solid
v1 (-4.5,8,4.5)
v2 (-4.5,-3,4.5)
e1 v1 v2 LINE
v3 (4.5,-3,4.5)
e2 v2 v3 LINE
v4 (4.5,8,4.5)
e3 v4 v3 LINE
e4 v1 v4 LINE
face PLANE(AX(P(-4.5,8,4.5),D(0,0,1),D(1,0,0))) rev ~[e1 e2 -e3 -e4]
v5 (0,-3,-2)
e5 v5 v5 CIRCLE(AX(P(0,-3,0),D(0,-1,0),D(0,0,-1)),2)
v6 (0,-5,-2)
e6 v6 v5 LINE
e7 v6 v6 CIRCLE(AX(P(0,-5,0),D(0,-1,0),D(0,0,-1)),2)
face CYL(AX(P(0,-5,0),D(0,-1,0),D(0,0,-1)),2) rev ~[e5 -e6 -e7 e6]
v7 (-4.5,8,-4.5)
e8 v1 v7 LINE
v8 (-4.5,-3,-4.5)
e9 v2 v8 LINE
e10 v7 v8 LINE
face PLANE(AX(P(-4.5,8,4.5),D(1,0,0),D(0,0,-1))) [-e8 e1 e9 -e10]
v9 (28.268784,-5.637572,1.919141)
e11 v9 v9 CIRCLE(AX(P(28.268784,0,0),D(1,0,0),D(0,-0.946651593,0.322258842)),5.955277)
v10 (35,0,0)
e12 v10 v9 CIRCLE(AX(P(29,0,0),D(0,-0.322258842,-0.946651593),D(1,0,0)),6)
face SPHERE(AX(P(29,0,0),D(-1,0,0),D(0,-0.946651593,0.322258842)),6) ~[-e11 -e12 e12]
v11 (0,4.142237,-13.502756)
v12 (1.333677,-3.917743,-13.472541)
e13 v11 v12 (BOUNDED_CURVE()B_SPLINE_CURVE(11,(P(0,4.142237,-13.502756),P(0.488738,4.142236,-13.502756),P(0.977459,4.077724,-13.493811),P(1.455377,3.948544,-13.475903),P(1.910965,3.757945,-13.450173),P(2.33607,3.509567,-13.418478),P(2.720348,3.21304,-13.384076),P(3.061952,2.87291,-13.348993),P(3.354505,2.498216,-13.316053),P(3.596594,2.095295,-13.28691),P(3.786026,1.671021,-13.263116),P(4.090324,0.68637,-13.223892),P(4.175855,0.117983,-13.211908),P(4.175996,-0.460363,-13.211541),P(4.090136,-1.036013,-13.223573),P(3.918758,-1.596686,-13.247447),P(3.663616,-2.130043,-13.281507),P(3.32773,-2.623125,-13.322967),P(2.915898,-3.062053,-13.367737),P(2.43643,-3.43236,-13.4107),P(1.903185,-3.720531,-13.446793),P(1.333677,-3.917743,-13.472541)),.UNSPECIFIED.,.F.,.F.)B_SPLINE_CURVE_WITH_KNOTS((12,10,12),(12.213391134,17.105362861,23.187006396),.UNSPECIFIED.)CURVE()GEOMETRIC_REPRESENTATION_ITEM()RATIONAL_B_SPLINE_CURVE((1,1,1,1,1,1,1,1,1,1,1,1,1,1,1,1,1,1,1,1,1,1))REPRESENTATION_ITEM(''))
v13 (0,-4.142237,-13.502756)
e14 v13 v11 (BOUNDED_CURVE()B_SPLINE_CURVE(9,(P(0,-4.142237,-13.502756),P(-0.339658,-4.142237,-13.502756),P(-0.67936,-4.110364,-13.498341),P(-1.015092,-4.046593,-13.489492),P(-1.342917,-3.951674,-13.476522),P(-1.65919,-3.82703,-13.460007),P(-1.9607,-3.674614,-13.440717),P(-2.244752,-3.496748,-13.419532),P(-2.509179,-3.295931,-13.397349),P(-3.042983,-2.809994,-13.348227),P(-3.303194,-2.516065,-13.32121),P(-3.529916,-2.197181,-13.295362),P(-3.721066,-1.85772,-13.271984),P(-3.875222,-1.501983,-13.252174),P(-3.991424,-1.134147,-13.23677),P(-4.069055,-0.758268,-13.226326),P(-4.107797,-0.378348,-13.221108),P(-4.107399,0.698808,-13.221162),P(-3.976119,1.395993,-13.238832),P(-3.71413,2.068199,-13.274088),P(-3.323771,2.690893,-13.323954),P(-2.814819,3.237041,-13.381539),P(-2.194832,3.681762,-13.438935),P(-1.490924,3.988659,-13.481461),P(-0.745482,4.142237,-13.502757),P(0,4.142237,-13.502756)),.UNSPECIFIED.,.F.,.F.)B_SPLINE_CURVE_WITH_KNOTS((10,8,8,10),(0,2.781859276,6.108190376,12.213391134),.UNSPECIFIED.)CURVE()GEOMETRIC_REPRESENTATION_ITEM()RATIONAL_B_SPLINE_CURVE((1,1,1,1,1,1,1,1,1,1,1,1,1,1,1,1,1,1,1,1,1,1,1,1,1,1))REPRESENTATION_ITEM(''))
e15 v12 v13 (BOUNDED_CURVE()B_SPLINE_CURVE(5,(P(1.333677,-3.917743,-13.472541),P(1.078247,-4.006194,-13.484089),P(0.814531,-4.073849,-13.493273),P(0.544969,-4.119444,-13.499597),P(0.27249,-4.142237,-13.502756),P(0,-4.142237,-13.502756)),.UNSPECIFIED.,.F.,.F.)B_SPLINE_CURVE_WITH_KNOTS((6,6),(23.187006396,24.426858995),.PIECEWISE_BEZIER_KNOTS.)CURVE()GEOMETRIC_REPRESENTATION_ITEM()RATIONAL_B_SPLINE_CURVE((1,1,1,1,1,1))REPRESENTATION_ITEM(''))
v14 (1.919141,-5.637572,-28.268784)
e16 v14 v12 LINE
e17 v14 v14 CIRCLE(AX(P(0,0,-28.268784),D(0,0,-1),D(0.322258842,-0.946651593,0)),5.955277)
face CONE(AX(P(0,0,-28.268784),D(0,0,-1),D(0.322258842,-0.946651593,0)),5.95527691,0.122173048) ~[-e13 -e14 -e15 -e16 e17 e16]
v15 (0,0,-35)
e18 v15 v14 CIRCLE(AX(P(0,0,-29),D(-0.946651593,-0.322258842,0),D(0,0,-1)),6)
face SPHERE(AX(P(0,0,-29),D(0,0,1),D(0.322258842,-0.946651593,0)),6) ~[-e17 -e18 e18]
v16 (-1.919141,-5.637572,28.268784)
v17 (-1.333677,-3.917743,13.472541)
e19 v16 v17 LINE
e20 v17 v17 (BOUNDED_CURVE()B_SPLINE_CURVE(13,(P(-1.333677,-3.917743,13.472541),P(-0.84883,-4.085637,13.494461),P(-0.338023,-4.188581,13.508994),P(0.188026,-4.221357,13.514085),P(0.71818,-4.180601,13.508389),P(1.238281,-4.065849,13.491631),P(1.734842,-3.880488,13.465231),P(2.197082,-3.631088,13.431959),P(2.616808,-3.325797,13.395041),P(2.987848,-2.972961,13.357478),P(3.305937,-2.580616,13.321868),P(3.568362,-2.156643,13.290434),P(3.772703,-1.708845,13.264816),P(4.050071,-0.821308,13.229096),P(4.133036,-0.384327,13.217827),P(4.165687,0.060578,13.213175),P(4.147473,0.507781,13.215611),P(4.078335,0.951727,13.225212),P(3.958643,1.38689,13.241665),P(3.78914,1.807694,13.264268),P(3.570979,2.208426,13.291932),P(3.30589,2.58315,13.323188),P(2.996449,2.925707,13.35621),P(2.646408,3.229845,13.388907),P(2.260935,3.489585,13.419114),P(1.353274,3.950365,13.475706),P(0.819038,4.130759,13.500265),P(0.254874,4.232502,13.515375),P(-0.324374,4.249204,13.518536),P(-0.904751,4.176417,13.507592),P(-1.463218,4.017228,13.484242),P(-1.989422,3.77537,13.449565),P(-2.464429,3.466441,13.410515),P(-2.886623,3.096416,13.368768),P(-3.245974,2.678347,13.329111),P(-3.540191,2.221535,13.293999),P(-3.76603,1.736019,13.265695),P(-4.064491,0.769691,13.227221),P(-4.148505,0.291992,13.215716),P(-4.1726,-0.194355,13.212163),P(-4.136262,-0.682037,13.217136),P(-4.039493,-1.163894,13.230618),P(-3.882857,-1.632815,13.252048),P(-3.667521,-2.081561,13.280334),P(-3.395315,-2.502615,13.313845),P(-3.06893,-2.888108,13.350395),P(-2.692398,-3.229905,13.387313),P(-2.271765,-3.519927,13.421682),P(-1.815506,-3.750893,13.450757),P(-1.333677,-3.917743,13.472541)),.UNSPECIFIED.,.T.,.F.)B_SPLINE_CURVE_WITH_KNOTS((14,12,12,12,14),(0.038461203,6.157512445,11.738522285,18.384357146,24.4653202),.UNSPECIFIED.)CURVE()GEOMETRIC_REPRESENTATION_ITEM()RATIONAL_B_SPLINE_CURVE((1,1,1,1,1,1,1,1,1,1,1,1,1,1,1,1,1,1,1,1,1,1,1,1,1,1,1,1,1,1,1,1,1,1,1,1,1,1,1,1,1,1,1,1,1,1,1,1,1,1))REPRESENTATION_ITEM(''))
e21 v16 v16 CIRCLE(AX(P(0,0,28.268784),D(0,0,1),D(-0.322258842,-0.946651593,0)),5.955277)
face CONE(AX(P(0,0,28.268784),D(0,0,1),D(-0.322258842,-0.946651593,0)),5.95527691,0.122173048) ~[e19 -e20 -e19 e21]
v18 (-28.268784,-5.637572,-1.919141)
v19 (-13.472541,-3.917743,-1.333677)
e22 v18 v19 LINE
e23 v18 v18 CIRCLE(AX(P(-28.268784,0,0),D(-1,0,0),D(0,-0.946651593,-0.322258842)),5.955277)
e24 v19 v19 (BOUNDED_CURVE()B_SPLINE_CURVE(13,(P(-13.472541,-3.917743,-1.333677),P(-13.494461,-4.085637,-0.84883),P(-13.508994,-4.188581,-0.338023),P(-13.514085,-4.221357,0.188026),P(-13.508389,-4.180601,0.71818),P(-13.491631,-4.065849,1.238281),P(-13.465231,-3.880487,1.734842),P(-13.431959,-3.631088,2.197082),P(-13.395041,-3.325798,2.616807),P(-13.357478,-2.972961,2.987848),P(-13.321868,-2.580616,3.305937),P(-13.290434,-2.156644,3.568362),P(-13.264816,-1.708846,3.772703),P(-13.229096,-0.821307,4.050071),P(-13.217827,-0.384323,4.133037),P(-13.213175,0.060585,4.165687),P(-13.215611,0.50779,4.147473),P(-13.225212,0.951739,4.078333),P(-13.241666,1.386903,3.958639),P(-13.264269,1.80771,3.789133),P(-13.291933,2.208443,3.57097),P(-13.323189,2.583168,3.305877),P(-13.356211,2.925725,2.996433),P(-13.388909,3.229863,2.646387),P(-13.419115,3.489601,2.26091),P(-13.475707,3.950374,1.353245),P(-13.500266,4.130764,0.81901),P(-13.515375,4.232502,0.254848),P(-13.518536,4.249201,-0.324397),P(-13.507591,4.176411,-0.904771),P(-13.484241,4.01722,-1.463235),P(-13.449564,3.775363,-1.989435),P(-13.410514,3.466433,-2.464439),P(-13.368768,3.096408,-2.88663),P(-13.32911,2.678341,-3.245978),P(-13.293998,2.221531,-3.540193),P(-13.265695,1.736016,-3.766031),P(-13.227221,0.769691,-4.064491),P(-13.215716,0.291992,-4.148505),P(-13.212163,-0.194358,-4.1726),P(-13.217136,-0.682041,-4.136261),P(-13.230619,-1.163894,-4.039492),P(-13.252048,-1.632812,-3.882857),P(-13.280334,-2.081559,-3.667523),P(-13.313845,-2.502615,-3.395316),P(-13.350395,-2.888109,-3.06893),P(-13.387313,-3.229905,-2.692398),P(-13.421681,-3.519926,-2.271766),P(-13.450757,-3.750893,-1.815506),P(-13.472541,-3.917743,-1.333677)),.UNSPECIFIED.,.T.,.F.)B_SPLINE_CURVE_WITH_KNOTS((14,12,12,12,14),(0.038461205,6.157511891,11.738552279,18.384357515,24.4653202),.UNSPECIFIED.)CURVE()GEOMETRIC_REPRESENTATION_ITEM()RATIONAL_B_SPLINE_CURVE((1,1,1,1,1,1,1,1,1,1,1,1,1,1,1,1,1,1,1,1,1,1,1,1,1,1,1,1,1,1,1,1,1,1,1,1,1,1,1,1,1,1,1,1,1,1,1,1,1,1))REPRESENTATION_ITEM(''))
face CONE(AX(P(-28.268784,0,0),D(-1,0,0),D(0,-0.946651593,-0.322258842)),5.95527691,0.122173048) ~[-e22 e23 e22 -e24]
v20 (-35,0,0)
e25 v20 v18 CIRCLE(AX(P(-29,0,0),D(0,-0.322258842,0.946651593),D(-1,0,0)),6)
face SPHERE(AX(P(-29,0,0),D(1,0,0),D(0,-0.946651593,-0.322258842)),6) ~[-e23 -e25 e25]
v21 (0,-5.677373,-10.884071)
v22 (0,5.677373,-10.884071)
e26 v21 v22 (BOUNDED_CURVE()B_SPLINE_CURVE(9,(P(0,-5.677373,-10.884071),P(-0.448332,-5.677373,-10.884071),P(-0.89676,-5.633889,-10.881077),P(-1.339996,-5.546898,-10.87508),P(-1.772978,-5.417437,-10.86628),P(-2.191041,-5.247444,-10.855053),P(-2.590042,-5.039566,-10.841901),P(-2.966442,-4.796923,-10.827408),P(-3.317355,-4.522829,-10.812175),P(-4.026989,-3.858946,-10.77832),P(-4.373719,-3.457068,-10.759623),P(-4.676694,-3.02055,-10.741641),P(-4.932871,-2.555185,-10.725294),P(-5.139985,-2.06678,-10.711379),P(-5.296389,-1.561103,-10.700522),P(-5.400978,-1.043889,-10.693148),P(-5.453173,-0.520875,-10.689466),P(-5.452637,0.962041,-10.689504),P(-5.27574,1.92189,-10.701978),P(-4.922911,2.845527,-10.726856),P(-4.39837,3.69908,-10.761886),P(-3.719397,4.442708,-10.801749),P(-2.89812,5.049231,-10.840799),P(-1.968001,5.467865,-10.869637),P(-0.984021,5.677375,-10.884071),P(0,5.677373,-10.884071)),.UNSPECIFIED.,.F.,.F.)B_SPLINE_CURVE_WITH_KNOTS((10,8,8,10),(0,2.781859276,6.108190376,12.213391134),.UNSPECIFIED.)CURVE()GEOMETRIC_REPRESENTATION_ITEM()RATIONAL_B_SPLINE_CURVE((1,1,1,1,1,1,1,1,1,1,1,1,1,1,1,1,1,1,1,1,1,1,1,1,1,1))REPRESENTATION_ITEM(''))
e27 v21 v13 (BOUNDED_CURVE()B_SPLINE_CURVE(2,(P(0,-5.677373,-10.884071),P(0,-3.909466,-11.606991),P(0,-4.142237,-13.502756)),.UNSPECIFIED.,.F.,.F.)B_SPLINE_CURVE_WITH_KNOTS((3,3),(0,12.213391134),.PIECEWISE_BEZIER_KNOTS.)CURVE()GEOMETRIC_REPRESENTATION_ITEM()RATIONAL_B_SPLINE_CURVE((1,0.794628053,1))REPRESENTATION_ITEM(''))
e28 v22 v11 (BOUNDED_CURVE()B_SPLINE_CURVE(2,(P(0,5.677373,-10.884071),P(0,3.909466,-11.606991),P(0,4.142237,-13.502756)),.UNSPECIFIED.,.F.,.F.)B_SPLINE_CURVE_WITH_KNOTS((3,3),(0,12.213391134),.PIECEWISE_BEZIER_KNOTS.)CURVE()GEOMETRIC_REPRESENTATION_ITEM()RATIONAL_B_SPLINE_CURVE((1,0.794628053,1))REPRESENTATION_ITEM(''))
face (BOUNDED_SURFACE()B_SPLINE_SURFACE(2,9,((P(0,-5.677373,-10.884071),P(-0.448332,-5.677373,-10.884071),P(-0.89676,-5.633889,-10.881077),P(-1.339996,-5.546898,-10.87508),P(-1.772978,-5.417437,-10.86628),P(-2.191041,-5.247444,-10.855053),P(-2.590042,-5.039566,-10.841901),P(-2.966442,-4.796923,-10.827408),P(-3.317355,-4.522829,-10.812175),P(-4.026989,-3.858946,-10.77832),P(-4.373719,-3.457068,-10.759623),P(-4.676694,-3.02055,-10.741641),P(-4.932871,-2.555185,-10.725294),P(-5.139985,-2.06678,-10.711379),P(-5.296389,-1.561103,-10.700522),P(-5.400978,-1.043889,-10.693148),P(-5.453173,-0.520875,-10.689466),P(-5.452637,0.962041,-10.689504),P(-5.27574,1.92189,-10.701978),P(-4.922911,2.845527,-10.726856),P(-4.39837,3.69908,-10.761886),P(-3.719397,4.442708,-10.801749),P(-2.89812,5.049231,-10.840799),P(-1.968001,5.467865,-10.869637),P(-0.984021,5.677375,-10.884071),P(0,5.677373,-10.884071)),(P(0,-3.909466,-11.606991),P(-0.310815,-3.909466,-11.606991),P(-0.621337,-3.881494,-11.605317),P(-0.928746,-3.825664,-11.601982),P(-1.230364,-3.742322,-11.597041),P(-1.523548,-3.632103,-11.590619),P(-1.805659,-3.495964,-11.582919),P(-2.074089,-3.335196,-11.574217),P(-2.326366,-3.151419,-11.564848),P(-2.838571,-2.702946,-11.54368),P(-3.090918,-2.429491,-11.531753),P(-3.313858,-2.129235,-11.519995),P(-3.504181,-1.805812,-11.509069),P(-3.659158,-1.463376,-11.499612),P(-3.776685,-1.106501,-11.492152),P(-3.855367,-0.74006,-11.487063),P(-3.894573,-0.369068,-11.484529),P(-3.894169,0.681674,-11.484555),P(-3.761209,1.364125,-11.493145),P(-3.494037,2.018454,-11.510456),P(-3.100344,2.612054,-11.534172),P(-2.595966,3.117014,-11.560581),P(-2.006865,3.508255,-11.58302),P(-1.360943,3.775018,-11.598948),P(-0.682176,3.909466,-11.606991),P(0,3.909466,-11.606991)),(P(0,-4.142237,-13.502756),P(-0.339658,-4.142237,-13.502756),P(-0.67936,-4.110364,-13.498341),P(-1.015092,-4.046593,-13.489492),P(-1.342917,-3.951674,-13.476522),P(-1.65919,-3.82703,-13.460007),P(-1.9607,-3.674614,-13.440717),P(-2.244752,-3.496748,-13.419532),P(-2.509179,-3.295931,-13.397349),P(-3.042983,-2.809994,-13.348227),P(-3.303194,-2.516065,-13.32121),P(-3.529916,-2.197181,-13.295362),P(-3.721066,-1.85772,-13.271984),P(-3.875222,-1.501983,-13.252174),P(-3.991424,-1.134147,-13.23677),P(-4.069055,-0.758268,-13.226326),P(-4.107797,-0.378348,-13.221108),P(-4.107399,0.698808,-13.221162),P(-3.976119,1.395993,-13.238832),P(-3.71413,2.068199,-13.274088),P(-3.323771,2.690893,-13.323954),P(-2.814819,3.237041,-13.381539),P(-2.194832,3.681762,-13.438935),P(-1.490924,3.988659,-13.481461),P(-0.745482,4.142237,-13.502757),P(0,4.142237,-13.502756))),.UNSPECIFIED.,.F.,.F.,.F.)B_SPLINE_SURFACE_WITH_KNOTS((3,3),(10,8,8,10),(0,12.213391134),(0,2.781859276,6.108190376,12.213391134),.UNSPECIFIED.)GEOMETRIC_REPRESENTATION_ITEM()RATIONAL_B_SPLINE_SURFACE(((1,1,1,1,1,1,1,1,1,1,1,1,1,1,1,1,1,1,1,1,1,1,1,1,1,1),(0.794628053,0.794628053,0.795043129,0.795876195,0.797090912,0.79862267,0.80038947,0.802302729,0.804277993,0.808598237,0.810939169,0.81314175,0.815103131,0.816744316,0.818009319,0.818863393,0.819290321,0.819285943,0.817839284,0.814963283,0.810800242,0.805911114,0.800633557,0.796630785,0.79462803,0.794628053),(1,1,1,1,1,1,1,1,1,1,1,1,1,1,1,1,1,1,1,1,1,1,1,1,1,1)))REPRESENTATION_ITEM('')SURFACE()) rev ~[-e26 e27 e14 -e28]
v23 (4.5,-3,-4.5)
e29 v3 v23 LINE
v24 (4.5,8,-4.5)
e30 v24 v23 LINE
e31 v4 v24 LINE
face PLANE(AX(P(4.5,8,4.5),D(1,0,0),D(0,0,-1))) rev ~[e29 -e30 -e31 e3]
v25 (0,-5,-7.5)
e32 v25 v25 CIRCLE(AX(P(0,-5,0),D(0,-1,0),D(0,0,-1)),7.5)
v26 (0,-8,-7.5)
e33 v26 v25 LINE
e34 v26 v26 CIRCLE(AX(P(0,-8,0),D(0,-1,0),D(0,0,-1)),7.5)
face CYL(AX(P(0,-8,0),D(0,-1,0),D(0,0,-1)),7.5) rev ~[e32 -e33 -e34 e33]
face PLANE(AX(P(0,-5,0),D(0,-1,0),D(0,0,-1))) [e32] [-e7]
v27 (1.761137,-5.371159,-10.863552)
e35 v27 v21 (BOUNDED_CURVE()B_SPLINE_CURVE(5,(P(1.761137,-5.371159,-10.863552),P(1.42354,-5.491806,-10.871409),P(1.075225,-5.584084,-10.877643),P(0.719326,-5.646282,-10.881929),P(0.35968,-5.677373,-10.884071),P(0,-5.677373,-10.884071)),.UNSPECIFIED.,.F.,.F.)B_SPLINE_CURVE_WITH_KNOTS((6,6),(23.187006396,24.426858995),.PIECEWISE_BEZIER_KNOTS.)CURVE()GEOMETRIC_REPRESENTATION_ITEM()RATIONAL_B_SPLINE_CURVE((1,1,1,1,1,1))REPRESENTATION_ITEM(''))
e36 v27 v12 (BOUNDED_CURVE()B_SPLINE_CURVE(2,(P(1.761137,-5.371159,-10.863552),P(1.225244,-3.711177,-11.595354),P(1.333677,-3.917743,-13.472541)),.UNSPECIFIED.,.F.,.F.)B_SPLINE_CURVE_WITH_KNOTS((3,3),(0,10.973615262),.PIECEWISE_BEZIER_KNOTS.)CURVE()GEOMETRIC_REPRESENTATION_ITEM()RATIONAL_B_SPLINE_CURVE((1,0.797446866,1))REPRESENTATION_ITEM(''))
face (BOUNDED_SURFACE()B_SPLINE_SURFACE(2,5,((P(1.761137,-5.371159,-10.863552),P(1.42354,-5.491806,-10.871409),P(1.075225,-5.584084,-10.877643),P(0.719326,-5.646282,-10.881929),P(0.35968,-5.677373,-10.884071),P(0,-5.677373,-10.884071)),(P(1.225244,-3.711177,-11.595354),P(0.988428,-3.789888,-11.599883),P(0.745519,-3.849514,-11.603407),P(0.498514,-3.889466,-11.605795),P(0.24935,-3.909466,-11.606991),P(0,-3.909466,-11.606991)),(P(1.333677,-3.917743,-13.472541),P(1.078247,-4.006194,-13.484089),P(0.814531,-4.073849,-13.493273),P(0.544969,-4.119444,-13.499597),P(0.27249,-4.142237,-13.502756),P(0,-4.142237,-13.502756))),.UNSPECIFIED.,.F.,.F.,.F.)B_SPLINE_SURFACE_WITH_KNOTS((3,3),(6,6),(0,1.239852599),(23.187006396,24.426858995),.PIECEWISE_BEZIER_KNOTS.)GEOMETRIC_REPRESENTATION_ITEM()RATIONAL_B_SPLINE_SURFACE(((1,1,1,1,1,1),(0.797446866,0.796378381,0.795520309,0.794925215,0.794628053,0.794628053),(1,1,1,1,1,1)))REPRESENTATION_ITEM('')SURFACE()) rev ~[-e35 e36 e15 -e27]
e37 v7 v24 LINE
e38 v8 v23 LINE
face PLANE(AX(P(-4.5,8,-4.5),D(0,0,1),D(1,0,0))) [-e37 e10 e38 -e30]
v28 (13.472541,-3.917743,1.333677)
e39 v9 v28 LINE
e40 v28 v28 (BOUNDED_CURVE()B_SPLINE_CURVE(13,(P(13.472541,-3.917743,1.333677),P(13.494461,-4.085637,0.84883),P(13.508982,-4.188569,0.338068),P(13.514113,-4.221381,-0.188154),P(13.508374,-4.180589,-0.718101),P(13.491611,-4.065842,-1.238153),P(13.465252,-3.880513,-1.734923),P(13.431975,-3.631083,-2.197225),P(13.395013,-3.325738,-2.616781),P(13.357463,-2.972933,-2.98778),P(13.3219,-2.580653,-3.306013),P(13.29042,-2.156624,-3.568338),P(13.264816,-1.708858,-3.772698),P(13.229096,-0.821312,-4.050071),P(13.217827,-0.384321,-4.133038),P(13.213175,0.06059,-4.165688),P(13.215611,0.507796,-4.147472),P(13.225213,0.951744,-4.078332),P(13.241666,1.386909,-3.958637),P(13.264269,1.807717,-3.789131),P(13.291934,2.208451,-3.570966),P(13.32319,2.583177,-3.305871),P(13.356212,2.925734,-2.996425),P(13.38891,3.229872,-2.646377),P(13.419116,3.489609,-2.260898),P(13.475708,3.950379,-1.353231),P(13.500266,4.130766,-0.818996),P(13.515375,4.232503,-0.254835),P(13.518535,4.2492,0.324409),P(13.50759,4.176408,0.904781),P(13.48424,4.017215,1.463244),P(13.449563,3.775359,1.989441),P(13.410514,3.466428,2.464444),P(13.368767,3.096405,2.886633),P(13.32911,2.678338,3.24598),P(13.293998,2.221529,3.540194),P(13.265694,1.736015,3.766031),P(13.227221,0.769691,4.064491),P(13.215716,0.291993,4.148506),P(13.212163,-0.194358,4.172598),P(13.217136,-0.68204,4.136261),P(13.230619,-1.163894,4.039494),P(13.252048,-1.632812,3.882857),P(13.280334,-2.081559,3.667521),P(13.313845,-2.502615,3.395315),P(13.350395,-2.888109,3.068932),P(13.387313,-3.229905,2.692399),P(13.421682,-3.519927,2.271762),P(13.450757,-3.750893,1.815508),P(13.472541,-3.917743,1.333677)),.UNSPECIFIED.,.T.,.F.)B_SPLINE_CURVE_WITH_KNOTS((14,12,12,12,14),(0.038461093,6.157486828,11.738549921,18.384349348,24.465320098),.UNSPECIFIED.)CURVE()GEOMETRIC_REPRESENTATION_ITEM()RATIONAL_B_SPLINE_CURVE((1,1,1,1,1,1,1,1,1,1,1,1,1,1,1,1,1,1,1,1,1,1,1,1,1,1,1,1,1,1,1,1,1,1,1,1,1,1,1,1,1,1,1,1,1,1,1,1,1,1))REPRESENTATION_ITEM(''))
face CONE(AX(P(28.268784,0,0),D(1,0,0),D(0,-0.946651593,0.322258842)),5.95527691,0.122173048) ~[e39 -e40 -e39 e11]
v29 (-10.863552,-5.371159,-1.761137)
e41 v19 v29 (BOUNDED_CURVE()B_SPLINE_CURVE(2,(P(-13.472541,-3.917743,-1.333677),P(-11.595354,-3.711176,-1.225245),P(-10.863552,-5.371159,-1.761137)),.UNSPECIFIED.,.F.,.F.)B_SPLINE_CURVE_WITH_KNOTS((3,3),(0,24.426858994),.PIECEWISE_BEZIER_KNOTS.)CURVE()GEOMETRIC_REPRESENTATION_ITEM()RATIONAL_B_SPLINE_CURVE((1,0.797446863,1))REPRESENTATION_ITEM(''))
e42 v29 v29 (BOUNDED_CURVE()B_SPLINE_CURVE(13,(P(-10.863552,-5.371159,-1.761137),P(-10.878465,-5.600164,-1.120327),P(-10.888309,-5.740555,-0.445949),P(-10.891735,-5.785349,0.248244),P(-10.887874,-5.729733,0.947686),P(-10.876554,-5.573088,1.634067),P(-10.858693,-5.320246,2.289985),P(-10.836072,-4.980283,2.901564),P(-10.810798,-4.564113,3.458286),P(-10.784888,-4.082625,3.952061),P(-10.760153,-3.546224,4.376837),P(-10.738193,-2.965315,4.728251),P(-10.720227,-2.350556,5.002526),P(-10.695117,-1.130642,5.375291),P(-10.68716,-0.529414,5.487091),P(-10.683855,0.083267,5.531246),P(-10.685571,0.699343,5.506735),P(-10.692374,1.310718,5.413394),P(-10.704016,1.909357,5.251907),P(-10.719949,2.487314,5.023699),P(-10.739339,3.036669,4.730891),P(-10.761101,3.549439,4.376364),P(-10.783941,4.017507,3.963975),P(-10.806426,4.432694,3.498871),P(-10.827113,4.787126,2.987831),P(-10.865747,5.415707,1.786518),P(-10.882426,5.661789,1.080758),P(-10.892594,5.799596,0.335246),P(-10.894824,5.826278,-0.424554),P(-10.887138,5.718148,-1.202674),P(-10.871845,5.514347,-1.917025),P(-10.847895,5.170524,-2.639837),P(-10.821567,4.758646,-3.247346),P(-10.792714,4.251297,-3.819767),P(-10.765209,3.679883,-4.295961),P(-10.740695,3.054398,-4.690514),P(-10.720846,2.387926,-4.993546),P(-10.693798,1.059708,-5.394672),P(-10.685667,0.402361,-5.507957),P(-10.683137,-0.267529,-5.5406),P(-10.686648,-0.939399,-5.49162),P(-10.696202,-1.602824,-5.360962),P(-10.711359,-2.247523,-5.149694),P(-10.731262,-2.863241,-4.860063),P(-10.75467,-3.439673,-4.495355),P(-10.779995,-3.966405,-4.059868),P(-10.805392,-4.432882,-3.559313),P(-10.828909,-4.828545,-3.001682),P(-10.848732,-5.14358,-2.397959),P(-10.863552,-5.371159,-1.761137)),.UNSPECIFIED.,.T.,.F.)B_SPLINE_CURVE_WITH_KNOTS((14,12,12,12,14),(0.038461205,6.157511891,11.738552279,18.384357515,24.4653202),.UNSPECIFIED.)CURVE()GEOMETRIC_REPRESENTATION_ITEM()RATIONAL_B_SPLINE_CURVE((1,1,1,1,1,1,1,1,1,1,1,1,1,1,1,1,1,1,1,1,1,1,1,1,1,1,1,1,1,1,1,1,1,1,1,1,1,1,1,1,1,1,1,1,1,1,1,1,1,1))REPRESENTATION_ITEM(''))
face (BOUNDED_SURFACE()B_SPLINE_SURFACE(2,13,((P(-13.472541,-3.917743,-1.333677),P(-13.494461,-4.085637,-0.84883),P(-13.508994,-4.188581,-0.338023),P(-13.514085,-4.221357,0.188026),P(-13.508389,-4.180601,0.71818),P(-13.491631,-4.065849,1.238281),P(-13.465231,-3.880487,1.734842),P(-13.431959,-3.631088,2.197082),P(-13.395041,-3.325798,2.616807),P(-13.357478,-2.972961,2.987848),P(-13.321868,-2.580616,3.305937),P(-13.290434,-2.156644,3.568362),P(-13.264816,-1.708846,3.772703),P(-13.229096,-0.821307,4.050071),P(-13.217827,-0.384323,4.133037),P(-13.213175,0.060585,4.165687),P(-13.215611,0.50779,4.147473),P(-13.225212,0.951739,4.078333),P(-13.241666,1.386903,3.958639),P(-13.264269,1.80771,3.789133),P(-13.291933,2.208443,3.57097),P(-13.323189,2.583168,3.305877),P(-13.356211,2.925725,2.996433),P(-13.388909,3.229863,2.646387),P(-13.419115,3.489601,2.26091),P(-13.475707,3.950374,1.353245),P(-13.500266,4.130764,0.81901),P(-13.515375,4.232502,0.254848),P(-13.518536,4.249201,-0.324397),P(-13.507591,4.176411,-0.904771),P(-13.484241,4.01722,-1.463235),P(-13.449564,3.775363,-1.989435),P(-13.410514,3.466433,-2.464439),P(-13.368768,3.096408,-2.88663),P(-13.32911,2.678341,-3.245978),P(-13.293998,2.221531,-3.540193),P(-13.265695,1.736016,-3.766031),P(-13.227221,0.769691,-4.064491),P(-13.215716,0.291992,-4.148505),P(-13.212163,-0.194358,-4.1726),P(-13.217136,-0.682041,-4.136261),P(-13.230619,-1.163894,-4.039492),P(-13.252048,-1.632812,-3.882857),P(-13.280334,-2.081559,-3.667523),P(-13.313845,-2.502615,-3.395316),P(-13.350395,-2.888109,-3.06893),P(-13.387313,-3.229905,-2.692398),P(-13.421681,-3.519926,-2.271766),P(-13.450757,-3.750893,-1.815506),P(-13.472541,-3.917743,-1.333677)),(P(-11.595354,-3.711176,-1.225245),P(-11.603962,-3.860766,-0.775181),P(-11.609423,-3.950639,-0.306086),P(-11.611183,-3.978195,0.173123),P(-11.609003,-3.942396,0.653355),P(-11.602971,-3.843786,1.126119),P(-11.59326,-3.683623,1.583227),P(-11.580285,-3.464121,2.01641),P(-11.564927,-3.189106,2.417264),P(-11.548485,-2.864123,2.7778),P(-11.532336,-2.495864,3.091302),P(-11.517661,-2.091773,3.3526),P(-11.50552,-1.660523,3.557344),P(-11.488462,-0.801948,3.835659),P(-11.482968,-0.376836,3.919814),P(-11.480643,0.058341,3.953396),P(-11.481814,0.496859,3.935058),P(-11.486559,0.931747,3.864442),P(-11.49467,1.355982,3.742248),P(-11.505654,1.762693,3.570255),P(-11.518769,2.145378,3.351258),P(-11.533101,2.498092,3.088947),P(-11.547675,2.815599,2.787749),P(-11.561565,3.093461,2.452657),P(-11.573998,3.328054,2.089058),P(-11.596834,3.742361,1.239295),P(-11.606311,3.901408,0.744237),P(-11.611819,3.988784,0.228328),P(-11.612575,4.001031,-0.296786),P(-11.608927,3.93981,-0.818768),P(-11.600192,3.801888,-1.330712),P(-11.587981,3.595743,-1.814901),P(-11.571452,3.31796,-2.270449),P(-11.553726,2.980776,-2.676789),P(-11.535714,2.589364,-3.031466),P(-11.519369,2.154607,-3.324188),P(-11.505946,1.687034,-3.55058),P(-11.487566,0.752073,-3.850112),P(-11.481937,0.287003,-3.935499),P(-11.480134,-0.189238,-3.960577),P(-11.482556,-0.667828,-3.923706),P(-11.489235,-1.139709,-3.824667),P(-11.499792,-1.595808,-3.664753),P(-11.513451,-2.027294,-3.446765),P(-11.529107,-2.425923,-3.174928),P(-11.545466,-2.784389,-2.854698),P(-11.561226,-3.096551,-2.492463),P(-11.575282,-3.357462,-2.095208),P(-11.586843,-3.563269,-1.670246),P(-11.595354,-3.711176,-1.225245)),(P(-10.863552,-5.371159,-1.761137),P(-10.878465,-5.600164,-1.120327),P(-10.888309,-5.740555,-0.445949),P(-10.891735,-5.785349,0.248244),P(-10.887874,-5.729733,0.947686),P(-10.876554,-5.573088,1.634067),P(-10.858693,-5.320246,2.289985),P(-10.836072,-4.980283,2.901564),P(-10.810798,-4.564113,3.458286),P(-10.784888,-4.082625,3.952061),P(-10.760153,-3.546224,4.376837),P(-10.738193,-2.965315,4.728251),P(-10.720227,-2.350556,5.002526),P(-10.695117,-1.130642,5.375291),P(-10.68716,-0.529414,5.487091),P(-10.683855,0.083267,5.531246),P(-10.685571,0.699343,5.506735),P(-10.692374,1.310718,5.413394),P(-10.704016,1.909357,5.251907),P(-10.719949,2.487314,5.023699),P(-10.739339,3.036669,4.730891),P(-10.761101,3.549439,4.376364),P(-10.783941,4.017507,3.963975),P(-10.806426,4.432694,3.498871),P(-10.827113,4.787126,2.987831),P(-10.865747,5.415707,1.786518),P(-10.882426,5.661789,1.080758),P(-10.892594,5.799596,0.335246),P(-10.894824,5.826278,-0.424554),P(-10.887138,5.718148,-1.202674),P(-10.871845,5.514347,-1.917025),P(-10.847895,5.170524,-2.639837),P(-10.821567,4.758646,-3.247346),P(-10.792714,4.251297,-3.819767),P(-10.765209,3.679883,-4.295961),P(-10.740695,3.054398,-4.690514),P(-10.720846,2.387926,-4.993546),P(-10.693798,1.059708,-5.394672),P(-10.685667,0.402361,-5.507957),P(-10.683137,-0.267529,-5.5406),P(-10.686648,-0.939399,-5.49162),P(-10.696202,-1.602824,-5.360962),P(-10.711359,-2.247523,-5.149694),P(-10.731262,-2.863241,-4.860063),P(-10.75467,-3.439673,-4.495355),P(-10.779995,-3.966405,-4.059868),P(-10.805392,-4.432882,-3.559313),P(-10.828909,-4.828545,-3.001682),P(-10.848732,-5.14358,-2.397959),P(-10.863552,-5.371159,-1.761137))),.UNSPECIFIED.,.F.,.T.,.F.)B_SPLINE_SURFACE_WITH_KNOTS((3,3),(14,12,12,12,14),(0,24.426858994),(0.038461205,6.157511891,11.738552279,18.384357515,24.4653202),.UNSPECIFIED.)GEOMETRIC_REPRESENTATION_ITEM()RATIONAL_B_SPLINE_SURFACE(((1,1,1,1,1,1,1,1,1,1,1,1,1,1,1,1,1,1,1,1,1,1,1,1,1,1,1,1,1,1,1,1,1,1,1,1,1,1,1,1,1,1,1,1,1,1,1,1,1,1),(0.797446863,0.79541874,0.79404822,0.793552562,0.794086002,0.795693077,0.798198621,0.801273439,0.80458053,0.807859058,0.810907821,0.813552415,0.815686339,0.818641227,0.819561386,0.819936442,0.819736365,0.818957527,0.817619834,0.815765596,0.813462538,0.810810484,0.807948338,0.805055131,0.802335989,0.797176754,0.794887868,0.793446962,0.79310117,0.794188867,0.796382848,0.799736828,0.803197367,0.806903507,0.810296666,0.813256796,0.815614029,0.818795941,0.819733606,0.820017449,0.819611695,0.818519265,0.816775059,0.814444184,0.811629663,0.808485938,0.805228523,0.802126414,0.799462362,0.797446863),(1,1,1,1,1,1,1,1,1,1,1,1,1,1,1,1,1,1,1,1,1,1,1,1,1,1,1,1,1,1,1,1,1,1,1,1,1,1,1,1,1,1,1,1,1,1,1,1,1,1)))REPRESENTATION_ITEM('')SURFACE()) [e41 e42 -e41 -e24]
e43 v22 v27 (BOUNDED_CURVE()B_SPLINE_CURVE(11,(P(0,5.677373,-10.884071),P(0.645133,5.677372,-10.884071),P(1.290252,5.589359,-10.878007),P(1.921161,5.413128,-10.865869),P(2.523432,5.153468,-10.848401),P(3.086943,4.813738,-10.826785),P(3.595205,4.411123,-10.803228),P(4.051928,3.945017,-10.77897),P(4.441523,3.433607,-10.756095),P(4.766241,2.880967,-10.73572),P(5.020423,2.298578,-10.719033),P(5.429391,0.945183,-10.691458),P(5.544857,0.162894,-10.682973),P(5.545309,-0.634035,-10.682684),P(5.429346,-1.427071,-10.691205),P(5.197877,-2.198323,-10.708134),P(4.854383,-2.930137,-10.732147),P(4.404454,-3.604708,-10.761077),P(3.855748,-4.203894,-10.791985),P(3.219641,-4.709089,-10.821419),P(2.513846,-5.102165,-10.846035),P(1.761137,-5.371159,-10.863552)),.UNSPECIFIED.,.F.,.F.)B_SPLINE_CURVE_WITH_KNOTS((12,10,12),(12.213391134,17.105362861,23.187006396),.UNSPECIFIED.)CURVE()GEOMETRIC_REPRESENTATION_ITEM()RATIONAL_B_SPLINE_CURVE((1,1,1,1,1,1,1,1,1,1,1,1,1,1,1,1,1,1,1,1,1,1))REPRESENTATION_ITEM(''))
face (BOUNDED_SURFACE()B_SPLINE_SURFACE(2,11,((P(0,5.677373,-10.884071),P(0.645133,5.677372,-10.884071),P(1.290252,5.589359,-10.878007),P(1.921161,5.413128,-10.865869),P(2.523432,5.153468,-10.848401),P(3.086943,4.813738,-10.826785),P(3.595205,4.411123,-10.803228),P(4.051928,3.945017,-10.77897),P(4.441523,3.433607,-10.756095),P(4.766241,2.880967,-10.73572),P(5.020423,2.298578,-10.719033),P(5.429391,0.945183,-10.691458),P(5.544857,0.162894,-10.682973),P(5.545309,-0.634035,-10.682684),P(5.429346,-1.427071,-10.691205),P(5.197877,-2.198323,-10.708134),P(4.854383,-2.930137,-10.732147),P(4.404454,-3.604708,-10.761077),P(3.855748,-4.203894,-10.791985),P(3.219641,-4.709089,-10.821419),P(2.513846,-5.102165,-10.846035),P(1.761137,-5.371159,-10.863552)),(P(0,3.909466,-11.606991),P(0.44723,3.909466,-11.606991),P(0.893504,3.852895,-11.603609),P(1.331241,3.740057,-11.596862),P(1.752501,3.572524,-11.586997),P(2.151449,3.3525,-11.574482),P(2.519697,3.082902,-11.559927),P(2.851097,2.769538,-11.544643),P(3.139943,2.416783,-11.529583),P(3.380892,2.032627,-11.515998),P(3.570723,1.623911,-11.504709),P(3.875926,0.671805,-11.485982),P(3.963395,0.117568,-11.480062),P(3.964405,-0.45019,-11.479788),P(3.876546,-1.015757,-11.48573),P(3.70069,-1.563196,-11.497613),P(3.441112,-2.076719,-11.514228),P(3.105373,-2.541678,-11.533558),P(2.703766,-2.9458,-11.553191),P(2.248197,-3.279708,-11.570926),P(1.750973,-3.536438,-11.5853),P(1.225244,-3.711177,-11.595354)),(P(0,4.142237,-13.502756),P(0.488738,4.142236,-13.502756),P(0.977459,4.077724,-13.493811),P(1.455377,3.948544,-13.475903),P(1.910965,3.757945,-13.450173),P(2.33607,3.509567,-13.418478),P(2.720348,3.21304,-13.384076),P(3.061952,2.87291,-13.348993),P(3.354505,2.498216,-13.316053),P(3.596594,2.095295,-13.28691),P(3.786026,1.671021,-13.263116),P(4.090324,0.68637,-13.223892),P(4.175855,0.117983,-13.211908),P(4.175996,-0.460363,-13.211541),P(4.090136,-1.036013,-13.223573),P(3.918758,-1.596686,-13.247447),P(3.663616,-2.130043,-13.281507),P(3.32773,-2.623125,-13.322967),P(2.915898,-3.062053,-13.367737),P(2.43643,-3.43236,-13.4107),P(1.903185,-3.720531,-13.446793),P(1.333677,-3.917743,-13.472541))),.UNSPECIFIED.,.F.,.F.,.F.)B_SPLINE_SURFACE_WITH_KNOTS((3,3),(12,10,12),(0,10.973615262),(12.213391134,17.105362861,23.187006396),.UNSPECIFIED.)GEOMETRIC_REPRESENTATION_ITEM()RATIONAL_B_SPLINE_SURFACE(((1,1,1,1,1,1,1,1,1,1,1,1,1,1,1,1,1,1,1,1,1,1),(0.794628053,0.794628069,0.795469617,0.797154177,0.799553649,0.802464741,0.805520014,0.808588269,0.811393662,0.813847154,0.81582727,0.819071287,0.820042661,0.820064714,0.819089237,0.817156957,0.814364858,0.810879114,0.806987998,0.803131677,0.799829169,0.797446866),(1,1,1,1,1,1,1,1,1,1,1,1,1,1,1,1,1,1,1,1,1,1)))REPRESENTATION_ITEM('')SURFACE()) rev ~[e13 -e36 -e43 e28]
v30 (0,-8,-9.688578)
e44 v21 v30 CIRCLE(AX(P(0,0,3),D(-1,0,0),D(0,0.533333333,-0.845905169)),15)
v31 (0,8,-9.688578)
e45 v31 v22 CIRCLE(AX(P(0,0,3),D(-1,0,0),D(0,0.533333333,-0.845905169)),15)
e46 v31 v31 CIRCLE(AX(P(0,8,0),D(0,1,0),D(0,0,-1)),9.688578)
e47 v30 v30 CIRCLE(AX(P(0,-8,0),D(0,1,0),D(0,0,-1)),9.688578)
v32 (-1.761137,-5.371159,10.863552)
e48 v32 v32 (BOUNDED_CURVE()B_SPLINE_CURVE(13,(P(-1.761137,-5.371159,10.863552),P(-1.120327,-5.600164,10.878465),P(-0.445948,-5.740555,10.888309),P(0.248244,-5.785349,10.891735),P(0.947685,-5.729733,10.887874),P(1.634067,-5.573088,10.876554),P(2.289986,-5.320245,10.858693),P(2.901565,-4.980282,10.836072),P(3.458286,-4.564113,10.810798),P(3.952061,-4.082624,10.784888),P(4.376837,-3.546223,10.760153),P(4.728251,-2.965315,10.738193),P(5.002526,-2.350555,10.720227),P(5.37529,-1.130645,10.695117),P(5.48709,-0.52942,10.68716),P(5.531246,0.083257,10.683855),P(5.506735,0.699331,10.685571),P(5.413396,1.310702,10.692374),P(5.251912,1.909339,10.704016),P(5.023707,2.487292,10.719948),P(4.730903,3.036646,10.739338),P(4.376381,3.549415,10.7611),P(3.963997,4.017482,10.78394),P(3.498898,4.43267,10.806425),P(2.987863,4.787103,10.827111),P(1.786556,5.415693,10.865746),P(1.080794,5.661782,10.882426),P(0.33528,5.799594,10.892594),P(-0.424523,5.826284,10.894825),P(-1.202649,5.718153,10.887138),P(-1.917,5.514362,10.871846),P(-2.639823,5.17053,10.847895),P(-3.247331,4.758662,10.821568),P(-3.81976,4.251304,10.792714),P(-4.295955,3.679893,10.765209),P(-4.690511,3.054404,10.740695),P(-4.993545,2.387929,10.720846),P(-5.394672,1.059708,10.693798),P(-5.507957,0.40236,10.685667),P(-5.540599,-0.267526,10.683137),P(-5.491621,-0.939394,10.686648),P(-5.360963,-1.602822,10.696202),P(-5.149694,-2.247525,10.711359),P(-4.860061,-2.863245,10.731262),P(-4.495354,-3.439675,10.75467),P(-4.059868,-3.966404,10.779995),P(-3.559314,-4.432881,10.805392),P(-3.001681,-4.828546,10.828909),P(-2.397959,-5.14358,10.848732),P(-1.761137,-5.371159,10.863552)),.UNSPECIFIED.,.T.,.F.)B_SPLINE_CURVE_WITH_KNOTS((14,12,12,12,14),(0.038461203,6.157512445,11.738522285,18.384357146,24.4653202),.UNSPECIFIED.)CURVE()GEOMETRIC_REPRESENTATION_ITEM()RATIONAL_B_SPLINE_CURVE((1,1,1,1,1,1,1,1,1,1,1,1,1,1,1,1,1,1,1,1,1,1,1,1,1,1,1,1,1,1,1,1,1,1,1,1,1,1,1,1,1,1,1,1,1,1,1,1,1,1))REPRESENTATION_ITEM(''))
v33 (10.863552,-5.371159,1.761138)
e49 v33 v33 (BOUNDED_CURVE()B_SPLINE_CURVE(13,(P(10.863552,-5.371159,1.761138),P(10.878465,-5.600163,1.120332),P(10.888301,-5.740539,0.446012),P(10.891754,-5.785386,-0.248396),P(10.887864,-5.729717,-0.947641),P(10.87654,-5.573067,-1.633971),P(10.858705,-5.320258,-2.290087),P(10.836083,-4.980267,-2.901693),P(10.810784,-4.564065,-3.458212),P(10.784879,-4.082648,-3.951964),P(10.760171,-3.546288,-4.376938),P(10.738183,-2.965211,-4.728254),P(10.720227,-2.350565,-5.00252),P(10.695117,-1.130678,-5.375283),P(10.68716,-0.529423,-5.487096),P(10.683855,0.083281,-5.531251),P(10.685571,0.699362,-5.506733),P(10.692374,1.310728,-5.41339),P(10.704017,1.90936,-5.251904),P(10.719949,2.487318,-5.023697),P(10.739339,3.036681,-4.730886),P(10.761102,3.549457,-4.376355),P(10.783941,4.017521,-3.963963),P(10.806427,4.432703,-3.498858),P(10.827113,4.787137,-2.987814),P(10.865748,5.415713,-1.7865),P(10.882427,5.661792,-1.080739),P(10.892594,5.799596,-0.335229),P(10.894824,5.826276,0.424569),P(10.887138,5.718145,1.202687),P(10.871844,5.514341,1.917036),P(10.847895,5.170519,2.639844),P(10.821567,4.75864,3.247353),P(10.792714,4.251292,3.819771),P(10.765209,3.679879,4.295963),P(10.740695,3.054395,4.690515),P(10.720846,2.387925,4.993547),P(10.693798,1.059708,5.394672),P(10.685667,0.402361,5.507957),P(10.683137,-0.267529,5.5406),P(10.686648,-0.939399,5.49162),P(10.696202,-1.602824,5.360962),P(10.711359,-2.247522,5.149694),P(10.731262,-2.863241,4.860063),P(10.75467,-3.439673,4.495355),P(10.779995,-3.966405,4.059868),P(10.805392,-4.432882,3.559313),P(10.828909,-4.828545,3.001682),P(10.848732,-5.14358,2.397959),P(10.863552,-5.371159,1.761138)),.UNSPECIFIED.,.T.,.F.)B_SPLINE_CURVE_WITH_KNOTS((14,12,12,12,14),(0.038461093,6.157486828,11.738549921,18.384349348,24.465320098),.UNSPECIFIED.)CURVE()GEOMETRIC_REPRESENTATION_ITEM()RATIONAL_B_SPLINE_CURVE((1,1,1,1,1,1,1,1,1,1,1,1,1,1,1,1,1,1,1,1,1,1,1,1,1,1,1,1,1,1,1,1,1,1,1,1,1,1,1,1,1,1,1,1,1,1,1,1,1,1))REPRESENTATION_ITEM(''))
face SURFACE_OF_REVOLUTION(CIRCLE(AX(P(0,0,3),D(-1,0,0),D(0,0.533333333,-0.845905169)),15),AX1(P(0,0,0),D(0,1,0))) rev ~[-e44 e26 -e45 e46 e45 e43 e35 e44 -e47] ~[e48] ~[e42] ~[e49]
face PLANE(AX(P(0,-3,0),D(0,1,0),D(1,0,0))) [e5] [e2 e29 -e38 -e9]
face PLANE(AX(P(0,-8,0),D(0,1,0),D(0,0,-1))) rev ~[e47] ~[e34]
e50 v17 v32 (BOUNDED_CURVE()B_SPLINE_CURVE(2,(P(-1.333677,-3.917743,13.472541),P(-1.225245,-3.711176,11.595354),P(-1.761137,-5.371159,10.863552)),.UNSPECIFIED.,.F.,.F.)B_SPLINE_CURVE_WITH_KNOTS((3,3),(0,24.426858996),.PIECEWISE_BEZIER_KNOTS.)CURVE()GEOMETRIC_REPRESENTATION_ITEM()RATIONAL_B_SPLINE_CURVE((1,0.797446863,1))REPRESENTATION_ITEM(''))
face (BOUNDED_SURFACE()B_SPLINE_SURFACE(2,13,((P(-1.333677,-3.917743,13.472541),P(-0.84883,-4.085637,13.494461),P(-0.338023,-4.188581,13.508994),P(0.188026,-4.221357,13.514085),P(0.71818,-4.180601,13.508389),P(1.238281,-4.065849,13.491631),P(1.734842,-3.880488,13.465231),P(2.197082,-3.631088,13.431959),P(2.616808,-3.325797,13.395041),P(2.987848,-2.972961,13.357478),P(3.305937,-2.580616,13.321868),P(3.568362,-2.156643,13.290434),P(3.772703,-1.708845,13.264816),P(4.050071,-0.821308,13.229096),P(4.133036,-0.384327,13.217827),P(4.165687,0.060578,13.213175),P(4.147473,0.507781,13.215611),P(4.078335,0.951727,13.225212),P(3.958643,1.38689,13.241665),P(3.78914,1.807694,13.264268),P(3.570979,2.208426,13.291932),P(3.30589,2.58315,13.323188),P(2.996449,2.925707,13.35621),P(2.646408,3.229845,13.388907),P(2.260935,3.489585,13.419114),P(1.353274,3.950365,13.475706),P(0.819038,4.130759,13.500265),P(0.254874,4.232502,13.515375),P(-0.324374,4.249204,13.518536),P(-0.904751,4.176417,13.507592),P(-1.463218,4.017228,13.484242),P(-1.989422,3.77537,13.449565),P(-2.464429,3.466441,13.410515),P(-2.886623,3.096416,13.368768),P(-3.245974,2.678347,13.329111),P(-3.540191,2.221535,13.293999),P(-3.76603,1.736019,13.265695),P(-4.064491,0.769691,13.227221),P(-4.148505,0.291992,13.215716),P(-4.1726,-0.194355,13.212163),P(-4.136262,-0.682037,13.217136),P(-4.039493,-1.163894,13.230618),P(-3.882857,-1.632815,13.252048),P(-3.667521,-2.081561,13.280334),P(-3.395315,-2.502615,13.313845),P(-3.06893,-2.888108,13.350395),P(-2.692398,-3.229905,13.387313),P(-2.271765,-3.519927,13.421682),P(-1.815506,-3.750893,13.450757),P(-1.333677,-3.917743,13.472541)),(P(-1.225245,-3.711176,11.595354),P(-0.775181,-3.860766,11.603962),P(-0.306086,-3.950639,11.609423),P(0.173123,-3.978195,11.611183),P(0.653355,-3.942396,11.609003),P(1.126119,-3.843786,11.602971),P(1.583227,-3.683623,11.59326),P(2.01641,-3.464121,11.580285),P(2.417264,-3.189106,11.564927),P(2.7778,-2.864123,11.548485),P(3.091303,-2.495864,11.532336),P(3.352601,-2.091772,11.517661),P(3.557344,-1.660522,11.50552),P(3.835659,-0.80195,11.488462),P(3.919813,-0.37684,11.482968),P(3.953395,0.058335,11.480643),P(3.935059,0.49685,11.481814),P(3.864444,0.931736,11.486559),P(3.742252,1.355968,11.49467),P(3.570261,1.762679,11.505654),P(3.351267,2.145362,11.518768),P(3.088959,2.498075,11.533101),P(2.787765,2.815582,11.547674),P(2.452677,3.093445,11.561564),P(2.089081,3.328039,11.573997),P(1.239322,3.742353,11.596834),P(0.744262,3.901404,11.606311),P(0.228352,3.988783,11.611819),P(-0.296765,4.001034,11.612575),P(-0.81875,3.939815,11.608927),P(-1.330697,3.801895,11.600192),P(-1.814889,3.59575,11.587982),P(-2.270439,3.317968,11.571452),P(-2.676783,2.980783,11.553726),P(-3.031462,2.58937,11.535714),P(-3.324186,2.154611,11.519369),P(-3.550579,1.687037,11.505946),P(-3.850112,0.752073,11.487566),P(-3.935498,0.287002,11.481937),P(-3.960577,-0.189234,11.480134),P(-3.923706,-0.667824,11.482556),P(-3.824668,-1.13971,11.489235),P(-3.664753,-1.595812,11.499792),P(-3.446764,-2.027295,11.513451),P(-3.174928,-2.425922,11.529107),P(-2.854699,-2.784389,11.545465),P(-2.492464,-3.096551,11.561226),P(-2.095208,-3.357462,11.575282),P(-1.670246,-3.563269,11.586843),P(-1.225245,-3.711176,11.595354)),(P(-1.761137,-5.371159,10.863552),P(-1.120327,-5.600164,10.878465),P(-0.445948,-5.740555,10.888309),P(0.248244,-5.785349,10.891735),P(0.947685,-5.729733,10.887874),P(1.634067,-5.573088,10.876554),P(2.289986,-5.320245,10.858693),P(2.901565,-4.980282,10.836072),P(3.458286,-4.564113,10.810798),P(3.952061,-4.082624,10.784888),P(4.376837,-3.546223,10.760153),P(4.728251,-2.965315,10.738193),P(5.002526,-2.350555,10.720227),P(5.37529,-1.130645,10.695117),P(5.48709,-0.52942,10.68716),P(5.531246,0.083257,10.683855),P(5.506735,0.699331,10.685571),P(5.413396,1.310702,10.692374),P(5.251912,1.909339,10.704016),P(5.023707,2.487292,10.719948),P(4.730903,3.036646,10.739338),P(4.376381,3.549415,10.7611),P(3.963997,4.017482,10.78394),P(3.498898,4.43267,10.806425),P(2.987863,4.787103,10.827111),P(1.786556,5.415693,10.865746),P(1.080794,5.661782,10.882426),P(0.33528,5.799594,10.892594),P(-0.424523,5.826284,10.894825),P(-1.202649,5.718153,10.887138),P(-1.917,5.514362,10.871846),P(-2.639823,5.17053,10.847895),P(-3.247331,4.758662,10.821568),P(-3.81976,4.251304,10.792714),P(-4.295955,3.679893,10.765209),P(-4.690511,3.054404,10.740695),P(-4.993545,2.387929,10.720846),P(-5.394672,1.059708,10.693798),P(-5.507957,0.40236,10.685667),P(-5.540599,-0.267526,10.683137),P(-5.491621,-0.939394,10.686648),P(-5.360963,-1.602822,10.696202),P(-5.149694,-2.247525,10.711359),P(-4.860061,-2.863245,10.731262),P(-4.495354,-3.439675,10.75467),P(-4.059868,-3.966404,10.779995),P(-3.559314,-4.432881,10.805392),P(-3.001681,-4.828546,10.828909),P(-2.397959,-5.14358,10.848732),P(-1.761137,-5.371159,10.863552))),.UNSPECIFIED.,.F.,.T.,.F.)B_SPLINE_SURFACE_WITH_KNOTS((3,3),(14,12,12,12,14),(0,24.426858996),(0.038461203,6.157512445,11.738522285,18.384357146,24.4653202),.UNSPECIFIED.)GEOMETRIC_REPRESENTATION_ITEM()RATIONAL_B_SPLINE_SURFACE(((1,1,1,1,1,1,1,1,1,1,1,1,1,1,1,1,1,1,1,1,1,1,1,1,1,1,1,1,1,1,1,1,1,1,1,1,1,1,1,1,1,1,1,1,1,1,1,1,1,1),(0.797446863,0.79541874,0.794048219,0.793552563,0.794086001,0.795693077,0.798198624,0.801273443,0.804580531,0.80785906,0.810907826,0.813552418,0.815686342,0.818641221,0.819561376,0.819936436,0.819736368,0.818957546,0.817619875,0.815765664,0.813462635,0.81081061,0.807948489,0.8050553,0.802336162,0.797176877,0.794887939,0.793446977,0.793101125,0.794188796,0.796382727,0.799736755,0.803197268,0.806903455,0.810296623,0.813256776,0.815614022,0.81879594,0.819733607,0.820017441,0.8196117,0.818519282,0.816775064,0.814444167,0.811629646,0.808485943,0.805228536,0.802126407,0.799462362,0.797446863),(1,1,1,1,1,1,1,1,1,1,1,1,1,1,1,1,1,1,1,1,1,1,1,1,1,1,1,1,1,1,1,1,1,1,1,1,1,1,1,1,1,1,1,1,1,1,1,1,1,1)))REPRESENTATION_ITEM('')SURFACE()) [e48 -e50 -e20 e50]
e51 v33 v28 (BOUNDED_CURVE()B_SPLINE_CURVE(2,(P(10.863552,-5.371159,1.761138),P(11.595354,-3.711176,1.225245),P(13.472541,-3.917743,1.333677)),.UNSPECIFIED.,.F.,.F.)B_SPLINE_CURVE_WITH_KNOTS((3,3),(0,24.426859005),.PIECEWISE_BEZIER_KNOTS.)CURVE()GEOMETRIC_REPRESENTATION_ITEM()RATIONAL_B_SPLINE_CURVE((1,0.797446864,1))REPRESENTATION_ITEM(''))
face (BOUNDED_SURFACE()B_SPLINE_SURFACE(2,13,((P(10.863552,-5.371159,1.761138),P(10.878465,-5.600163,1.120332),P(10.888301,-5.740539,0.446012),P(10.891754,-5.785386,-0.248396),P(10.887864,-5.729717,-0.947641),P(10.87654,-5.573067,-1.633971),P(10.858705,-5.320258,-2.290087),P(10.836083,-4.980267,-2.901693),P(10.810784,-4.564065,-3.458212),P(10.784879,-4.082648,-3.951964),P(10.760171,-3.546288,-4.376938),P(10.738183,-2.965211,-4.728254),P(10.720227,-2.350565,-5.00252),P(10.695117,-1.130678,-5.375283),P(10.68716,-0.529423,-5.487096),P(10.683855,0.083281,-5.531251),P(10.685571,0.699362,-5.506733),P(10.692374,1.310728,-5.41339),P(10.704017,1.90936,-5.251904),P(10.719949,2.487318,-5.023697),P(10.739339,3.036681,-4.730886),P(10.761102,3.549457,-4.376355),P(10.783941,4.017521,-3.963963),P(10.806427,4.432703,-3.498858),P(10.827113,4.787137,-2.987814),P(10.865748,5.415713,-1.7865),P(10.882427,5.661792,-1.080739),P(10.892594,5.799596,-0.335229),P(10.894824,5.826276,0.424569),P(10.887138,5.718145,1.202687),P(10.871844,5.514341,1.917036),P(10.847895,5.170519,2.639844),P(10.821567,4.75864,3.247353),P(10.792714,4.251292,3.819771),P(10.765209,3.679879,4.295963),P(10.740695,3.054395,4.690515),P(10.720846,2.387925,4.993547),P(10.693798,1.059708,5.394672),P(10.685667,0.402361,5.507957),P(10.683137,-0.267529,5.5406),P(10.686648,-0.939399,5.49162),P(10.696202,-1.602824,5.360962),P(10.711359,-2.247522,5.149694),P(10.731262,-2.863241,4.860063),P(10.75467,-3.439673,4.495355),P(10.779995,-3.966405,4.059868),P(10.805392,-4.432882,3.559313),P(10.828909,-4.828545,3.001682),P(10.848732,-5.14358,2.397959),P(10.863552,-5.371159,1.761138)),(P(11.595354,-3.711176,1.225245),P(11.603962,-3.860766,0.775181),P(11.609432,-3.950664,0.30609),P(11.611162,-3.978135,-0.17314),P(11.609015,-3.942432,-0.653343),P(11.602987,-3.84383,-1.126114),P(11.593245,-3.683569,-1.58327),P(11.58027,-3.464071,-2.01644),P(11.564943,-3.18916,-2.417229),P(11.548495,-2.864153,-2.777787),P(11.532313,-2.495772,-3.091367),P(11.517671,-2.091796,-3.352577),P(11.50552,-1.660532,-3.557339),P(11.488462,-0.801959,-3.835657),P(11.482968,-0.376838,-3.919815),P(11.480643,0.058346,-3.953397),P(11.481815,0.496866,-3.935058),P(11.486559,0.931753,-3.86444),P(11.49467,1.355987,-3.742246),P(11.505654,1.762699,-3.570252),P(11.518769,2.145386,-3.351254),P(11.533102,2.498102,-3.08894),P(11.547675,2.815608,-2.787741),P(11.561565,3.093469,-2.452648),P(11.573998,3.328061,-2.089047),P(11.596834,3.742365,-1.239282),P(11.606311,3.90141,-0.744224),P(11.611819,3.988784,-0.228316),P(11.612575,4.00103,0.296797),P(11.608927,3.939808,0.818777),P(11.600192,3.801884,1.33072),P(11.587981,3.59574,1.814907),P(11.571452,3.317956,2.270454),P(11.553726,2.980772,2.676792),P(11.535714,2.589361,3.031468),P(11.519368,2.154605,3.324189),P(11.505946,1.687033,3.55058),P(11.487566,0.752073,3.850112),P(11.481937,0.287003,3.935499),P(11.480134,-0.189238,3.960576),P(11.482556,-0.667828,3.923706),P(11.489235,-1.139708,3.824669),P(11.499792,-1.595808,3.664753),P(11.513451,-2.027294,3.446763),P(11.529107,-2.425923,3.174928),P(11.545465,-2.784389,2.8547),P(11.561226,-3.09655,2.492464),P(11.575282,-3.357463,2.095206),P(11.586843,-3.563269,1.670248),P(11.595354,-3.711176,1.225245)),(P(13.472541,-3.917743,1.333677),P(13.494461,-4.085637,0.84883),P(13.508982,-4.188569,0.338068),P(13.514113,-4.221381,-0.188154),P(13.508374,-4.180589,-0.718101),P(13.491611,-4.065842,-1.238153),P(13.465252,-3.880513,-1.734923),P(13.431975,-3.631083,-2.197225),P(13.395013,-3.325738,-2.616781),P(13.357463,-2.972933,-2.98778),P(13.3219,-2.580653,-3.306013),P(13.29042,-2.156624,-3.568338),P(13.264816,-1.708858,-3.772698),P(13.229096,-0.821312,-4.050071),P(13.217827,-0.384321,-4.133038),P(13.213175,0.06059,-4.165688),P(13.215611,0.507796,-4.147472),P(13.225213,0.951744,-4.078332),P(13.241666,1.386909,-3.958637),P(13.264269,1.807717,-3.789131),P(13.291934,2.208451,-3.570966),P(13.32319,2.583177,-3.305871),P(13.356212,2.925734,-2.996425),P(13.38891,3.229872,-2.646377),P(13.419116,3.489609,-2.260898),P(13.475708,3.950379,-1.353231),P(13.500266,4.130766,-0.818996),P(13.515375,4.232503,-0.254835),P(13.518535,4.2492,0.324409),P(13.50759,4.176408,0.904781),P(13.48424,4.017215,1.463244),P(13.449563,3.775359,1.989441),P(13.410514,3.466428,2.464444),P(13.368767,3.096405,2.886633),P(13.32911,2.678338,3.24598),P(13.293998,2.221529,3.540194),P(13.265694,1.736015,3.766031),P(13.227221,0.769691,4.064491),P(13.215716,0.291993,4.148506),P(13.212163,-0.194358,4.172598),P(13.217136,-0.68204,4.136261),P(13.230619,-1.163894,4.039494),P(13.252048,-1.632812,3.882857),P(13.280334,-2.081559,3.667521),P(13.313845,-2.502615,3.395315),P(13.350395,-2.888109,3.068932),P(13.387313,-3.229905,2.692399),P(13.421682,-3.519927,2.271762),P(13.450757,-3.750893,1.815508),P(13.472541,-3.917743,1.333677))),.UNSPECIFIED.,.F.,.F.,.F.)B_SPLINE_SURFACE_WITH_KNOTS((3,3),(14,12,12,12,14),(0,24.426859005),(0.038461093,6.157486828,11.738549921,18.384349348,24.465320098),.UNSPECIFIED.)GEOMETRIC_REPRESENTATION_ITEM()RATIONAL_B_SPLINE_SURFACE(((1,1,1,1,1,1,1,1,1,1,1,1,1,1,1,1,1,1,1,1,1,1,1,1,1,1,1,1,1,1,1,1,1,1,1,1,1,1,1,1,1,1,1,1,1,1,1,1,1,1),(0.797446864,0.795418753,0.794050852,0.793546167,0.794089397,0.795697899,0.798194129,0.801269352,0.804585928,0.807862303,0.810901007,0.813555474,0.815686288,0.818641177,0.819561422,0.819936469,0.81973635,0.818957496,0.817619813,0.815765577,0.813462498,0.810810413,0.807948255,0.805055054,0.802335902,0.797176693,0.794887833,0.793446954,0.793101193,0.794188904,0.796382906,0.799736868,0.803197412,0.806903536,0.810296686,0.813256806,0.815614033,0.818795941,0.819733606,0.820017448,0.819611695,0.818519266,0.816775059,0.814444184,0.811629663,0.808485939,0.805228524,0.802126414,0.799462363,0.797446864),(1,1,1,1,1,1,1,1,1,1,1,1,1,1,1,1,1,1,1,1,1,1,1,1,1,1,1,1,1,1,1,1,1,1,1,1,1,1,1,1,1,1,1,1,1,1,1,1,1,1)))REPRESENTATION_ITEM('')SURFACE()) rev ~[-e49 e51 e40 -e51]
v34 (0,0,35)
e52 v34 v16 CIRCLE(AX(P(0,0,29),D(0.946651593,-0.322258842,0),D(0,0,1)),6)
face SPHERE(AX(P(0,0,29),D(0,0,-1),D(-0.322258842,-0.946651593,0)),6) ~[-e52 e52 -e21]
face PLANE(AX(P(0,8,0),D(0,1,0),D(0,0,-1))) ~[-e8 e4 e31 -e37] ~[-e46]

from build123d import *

# Parameters (mm, degrees)
FILLET1_R                = 2.5
CIRPATTERN1_COUNT        = 4
FILLET1_OF_CIRPATTERN1_R = 2.5
SKETCH3_W                = 9
SKETCH3_H                = 9
CUT_EXTRUDE1_DEPTH       = 11
SKETCH4_R                = 7.5
CUT_EXTRUDE2_DEPTH       = 3
CUT_EXTRUDE3_REACH       = 53.176
SKETCH5_R                = 2


with BuildPart() as part:
    # Sketch1 → Revolve1 (revolve)
    with BuildSketch(Plane(origin=(0, 0, 0), x_dir=(0, 0, -1), z_dir=(1, 0, 0)), mode=Mode.PRIVATE) as revolve1_sk:
        with BuildLine():
            Line((0, -8), (0, 8))
            Line((0, 8), (-9.68857754, 8))
            ThreePointArc((-9.68857754, 8), (-12, 0), (-9.68857754, -8))
            Line((-9.68857754, -8), (0, -8))
        make_face()
    revolve(revolve1_sk.sketch.rotate(Axis((0, 0, 0), (0, 1, 0)), 180), axis=Axis((0, 0, 0), (0, 1, 0)))

    # Sketch2 → Revolve2 (revolve)
    with BuildSketch(Plane.XY, mode=Mode.PRIVATE) as revolve2_sk:
        with BuildLine():
            Line((0, 0), (-35, 0))
            ThreePointArc((-35, 0), (-32.975720289, -4.493734325), (-28.26878394, -5.95527691))
            Line((-28.26878394, -5.95527691), (0, -2.484306687))
            Line((0, -2.484306687), (0, 0))
        make_face()
    revolve2 = revolve(revolve2_sk.sketch.rotate(Axis((0, 0, 0), (-1, 0, 0)), 341.200414784), axis=Axis((0, 0, 0), (-1, 0, 0)))

    # Fillet1
    fillet1_edges = [part.edges().sort_by_distance(p)[0] for p in [
        (-11.471875359, 3.685197146, 1.254513651),
    ]]
    fillet(fillet1_edges, radius=FILLET1_R)

    # CirPattern1: Revolve2 ×4 about axis
    cirpattern1_axis = Axis((0, 8, 0), (0, -1, 0))
    for i in range(1, CIRPATTERN1_COUNT):
        add(revolve2.rotate(cirpattern1_axis, i * 360 / CIRPATTERN1_COUNT))

    # Fillet1 of CirPattern1
    fillet1_of_cirpattern1_edges = [part.edges().sort_by_distance(p)[0] for p in [
        (-1.254513651, 3.685197146, -11.471875359),
        (11.471875359, 3.685197146, -1.254513651),
        (1.254513651, 3.685197146, 11.471875359),
    ]]
    fillet(fillet1_of_cirpattern1_edges, radius=FILLET1_OF_CIRPATTERN1_R)

    # Sketch3 → Cut-Extrude1 (cut)
    with BuildSketch(Plane(origin=(0, 8, 0), x_dir=(1, 0, 0), z_dir=(0, 1, 0))):
        Rectangle(SKETCH3_W, SKETCH3_H)
    extrude(amount=-CUT_EXTRUDE1_DEPTH, mode=Mode.SUBTRACT)

    # Sketch4 → Cut-Extrude2 (cut)
    with BuildSketch(Plane.XZ.offset(8)):
        with Locations(Location((0, 0, 0), (0, 0, 270))):
            Circle(SKETCH4_R)
    extrude(amount=-CUT_EXTRUDE2_DEPTH, mode=Mode.SUBTRACT)

    # Sketch5 → Cut-Extrude3 (cut, up to next)
    with BuildSketch(Plane.XZ.offset(5), mode=Mode.PRIVATE) as cut_extrude3_sk1:
        with Locations(Location((0, 0, 0), (0, 0, 270))):
            Circle(SKETCH5_R)
    cut_extrude3_tool1 = extrude(cut_extrude3_sk1.sketch, amount=-CUT_EXTRUDE3_REACH, mode=Mode.PRIVATE) & part.part
    add(cut_extrude3_tool1.solids().sort_by_distance((0, -5, 0))[0], mode=Mode.SUBTRACT)


solid = part.part
